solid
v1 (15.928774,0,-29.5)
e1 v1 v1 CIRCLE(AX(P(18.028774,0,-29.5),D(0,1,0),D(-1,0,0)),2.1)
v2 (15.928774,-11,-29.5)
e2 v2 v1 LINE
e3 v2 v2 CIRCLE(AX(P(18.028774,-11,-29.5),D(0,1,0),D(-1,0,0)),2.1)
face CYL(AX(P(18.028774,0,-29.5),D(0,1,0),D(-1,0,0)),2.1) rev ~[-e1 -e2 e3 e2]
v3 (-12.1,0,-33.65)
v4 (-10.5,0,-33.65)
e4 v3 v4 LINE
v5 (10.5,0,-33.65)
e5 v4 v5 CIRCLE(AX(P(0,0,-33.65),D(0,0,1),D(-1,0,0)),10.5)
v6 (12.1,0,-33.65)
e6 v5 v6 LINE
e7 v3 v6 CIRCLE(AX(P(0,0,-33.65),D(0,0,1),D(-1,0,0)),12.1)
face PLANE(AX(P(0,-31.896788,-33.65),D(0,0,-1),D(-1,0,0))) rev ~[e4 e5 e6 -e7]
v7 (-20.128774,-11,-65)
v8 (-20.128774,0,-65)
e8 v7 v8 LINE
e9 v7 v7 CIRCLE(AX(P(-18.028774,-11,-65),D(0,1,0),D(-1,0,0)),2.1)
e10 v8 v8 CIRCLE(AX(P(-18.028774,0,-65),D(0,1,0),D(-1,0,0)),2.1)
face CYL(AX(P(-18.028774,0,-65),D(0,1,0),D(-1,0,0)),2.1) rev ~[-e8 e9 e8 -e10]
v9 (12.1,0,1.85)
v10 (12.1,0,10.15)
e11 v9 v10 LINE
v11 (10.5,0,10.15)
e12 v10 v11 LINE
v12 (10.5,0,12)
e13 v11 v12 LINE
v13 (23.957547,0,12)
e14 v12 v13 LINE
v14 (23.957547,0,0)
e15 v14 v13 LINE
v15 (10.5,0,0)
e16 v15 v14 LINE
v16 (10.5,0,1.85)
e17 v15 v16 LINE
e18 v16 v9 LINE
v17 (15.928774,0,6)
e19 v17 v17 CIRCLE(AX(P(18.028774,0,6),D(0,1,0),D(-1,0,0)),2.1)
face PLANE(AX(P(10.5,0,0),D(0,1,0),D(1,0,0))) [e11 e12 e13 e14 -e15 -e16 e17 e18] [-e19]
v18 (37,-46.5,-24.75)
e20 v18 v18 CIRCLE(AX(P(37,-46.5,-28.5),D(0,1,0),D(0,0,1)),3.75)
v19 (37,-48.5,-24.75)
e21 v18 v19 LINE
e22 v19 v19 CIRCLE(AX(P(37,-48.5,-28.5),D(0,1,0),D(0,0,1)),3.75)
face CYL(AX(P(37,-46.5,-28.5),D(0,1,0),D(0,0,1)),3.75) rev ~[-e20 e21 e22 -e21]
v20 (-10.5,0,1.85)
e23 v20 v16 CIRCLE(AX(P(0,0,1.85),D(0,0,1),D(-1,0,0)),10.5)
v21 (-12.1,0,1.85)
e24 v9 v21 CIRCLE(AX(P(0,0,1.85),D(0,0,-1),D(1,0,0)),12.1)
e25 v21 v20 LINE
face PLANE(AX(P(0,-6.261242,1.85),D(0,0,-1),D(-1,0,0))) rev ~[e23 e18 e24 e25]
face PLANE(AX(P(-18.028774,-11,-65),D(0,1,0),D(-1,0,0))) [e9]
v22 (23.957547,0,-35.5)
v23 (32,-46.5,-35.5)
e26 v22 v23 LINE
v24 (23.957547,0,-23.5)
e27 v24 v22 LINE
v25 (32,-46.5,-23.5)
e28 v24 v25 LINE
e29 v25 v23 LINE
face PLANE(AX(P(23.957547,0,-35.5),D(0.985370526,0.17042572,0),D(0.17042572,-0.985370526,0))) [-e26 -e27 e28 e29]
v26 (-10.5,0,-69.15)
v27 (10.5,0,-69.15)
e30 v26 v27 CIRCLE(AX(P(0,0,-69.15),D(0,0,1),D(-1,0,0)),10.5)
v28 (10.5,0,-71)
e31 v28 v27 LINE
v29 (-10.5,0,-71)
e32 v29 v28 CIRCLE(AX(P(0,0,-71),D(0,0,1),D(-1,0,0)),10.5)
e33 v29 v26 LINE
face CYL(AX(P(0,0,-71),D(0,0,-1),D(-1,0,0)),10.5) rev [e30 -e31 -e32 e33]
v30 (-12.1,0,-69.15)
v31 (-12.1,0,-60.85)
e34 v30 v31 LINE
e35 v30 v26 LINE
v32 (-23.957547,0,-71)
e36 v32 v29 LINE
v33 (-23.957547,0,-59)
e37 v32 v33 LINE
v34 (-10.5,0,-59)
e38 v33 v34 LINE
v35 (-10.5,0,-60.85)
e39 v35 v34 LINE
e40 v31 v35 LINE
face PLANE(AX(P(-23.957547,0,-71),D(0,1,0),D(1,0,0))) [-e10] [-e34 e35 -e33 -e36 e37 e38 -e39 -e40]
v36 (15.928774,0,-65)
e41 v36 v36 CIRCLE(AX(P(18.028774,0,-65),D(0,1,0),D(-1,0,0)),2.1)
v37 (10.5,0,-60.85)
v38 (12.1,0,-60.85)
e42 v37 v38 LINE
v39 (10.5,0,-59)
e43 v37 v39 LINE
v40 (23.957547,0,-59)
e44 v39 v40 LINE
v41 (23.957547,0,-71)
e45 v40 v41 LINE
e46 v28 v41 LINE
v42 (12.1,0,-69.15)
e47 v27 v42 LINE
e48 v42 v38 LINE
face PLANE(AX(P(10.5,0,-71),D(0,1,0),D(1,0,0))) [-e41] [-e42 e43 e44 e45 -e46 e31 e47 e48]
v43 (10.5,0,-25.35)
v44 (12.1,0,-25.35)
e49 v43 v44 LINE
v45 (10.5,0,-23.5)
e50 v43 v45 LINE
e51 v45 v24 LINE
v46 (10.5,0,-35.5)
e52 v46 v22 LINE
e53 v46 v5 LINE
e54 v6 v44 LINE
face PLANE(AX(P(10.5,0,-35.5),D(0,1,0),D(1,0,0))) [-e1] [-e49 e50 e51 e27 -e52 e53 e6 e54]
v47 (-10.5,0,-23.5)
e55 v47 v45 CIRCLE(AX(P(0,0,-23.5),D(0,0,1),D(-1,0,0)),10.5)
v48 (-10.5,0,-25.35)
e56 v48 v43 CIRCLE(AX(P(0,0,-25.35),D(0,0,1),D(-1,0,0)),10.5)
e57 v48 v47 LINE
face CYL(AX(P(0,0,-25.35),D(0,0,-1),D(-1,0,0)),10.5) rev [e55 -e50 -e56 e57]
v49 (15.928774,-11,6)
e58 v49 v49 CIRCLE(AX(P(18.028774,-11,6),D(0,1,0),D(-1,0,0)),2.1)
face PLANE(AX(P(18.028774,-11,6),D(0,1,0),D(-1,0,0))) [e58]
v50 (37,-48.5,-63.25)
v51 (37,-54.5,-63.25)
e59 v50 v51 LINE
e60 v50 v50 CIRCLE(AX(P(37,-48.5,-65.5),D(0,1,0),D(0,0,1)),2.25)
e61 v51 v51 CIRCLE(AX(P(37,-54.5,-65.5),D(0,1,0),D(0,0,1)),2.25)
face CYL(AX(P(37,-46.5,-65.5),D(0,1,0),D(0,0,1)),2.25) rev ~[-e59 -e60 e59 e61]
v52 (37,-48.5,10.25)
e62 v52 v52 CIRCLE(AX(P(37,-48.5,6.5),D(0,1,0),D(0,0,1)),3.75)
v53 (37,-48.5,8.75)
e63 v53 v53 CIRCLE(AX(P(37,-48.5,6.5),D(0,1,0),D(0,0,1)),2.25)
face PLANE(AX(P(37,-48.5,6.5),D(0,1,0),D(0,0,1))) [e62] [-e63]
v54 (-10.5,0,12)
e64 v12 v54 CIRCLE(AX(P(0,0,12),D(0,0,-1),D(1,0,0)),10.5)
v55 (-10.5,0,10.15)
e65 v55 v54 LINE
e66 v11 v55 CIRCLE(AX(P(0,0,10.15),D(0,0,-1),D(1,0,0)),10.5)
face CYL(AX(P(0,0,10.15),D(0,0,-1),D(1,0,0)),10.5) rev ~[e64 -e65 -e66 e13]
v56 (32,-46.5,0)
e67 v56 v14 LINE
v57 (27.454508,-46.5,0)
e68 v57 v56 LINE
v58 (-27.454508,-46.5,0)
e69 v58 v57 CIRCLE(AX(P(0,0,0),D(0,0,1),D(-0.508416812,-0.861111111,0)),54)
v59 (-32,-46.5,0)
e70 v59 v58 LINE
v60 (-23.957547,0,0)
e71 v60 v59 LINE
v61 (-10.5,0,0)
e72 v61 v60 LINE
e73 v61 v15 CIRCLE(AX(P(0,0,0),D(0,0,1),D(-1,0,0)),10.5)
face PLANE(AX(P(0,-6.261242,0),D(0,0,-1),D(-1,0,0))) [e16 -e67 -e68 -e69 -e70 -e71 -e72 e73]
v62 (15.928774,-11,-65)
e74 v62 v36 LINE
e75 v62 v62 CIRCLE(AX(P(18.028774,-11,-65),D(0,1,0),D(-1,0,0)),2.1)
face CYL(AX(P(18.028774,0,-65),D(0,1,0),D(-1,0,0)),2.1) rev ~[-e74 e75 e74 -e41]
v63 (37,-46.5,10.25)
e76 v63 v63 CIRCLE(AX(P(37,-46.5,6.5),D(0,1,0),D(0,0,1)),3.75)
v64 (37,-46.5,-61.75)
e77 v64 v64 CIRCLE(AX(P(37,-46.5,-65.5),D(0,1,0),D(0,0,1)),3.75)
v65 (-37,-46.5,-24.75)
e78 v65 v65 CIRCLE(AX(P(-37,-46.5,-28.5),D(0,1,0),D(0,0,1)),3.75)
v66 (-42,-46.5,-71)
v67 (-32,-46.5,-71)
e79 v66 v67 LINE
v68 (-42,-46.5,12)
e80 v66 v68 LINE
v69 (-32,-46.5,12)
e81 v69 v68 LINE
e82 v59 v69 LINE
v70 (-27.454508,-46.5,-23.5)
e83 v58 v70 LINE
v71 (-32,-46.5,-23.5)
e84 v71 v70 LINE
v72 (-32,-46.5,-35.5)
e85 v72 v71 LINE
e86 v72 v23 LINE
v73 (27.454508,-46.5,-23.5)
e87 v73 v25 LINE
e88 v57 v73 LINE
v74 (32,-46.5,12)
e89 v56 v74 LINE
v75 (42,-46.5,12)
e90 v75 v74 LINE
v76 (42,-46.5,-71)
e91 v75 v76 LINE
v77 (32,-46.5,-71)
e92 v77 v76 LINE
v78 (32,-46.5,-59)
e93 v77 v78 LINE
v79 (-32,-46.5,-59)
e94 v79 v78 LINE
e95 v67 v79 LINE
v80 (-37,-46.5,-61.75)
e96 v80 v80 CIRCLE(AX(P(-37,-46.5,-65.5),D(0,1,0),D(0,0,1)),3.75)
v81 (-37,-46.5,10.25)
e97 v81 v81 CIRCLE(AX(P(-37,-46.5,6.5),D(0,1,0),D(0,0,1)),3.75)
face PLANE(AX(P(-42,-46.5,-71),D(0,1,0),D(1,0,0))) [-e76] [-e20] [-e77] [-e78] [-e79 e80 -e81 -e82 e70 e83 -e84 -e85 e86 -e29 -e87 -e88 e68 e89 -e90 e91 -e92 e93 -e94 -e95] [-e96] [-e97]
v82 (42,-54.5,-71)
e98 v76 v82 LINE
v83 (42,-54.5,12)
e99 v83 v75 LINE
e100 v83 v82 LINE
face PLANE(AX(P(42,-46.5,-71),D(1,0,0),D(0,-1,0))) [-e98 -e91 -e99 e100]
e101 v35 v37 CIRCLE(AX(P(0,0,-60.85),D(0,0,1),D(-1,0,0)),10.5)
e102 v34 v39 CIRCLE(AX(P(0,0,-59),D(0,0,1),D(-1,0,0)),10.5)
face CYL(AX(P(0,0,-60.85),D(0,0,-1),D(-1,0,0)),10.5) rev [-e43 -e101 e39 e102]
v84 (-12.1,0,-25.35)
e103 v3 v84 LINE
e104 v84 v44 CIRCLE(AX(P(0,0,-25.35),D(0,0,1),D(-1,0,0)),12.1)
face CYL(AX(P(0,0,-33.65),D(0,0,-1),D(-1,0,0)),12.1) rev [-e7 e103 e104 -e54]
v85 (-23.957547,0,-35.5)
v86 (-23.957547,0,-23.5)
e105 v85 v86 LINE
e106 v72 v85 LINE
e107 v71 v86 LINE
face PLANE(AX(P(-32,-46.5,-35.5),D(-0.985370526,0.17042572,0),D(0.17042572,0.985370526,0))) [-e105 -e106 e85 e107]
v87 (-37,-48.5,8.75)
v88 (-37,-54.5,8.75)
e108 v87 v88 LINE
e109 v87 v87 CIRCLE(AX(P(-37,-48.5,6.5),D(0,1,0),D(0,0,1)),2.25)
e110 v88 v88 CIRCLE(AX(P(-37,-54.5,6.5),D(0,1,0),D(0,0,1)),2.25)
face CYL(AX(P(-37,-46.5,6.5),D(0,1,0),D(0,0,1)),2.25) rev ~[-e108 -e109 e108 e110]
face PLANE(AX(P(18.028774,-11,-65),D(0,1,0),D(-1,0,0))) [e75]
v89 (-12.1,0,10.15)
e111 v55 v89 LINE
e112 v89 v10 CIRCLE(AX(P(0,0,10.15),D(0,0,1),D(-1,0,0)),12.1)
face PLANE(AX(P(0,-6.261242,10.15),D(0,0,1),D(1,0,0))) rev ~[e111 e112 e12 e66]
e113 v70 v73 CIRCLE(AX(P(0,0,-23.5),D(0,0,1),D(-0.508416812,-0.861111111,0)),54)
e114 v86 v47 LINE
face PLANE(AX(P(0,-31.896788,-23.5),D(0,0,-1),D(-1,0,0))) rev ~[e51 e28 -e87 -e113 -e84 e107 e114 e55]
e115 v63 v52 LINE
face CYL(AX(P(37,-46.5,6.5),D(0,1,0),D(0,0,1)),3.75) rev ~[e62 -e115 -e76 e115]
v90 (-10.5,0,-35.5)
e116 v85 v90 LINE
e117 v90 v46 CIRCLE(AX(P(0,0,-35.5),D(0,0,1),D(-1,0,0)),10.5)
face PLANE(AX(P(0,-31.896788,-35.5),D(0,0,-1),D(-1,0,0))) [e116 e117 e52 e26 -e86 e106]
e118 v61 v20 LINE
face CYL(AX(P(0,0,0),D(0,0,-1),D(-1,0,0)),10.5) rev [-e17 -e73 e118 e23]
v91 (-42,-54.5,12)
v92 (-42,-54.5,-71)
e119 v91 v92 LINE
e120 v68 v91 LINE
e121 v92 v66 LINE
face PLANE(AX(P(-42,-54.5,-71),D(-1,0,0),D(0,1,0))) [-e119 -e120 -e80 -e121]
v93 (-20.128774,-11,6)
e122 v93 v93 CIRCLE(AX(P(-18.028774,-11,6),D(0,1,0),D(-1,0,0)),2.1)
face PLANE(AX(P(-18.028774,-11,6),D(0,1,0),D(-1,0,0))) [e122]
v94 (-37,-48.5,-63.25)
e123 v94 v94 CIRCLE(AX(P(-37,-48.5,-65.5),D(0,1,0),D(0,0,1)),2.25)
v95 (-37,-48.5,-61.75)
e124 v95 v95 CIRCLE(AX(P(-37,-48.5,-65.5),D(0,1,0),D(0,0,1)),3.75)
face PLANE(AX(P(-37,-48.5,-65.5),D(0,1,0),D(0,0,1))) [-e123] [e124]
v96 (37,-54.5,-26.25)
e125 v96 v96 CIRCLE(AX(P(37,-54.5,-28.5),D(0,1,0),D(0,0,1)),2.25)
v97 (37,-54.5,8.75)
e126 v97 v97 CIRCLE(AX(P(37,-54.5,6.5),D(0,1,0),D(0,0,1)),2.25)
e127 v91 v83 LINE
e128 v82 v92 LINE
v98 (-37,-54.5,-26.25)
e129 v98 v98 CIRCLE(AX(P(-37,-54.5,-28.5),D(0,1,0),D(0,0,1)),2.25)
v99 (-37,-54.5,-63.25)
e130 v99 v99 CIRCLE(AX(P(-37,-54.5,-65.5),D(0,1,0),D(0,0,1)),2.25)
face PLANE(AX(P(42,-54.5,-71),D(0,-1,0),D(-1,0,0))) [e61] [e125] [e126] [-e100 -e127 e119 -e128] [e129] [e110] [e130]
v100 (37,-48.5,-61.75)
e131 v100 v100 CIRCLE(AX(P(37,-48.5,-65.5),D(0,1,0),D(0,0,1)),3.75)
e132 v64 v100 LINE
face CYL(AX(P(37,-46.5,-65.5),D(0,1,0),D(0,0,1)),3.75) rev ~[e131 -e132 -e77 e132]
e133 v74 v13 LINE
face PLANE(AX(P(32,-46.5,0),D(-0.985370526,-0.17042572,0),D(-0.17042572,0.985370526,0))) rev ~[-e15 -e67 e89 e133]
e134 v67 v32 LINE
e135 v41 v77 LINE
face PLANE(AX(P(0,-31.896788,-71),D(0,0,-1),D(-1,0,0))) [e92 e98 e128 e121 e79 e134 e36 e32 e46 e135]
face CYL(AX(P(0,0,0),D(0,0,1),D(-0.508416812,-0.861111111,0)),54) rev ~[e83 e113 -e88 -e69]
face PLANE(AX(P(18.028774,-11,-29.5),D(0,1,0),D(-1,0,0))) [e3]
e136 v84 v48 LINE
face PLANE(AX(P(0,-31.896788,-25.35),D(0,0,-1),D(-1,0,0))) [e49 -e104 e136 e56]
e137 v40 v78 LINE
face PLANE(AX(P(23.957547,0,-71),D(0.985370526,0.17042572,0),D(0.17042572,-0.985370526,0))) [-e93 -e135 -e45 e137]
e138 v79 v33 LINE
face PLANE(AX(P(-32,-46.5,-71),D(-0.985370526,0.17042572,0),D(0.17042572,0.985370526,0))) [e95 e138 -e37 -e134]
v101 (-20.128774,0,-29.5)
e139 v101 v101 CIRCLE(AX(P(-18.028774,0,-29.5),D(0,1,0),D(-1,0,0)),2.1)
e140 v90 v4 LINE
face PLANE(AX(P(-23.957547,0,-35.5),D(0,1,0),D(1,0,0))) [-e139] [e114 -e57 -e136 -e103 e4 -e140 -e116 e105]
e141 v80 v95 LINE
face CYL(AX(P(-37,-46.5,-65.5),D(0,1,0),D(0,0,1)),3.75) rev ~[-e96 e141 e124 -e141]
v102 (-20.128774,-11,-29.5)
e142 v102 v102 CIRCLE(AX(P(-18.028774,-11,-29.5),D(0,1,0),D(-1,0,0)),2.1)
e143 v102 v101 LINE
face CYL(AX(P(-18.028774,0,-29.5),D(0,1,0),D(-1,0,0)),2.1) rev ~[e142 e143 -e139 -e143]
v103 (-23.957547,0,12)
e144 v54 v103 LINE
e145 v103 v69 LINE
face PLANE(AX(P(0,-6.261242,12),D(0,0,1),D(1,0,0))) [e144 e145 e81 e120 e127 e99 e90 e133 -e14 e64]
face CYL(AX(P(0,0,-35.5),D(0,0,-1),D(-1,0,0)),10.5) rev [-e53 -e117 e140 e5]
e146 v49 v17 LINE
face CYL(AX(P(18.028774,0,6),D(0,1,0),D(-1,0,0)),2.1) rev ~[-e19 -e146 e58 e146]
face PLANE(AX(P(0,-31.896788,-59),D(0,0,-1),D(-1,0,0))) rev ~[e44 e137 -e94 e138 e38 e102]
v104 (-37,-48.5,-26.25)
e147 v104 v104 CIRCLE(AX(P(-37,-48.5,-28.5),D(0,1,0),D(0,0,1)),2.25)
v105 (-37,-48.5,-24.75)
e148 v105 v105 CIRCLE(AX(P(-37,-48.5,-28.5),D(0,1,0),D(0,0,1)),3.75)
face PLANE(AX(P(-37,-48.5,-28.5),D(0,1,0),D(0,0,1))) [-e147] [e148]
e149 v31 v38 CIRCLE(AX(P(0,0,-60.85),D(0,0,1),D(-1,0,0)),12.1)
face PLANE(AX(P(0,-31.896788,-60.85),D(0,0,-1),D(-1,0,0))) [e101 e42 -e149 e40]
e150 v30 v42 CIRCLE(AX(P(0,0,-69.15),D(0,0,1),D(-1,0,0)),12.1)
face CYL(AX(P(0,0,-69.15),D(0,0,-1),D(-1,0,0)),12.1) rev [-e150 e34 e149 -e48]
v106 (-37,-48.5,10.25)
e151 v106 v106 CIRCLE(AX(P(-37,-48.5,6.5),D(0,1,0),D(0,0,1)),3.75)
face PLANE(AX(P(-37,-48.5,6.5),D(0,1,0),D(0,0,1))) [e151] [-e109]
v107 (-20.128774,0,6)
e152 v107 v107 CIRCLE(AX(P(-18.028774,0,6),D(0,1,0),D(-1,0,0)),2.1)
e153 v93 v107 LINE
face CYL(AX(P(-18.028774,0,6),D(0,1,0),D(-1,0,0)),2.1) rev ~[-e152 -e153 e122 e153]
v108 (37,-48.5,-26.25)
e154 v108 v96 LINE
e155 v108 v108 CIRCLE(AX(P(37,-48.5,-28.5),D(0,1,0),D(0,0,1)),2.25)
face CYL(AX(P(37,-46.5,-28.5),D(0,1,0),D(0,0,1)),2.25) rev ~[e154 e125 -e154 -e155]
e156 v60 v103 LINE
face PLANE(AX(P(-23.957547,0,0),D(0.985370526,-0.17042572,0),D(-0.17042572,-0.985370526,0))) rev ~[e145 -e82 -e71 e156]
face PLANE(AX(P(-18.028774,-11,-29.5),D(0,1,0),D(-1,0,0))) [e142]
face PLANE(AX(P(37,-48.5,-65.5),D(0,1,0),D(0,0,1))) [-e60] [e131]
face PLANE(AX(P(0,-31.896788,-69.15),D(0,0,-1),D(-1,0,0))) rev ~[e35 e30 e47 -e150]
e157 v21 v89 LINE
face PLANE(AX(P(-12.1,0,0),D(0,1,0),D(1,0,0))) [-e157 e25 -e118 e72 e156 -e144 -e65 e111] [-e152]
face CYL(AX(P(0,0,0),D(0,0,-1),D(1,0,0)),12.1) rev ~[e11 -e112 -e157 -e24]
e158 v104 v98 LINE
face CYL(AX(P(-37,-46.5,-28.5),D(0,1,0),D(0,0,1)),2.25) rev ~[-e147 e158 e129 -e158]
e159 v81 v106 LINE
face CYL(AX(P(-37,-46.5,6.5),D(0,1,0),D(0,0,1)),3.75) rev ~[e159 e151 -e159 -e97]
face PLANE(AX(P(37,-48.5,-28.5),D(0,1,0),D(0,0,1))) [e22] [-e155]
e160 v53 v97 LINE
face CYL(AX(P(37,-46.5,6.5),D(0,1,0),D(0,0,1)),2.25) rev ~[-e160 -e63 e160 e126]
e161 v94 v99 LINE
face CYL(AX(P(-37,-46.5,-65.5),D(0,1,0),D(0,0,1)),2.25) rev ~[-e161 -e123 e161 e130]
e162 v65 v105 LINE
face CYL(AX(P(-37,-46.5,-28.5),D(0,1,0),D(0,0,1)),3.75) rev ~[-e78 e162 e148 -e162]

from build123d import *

# Parameters (mm, degrees)
ESTRUSIONE_ESTRUSIONE1_DEPTH  = 12
ESTRUSIONE_ESTRUSIONE2_START  = -1.85
ESTRUSIONE_ESTRUSIONE2_DEPTH  = 1.85
ESTRUSIONE_ESTRUSIONE3_DEPTH  = 1.85
ESTRUSIONE_ESTRUSIONE4_DEPTH  = 23.5
ESTRUSIONE_ESTRUSIONE5_START  = 1.85
ESTRUSIONE_ESTRUSIONE5_DEPTH  = 1.85
ESTRUSIONE_ESTRUSIONE6_START  = 8.3
ESTRUSIONE_ESTRUSIONE6_DEPTH  = 8.3
ESTRUSIONE_ESTRUSIONE7_START  = 1.85
ESTRUSIONE_ESTRUSIONE7_DEPTH  = 1.85
ESTRUSIONE_ESTRUSIONE8_DEPTH  = 23.5
ESTRUSIONE_ESTRUSIONE9_START  = 1.85
ESTRUSIONE_ESTRUSIONE9_DEPTH  = 1.85
ESTRUSIONE_ESTRUSIONE10_START = 8.3
ESTRUSIONE_ESTRUSIONE10_DEPTH = 8.3
ESTRUSIONE_ESTRUSIONE11_START = 1.85
ESTRUSIONE_ESTRUSIONE11_DEPTH = 1.85
SCHIZZO12_R                   = 2.25
TAGLIO_ESTRUSIONE1_DEPTH      = 95.695564838
SCHIZZO13_R                   = 2.1
TAGLIO_ESTRUSIONE2_DEPTH      = 6
SCHIZZO15_R                   = 2.1
TAGLIO_ESTRUSIONE4_DEPTH      = 5
SCHIZZO16_R                   = 3.75
TAGLIO_ESTRUSIONE5_DEPTH      = 2


with BuildPart() as part:
    # Schizzo1 → Estrusione-Estrusione1 (new body)
    with BuildSketch(Plane.XY):
        with BuildLine():
            Line((-12.1, 0), (-21, 0))
            Line((-21, 0), (-21, -17.1))
            Line((-21, -17.1), (21, -17.1))
            Line((21, -17.1), (21, 0))
            Line((21, 0), (12.1, 0))
            ThreePointArc((12.1, 0), (0, -12.1), (-12.1, 0))
        make_face()
        Polygon((-42, -46.5), (-42, -54.5), (42, -54.5), (42, -46.5), (32, -46.5), (23.95754717, 0), (21, 0), (21, -17.1), (-21, -17.1), (-21, 0), (-23.95754717, 0), (-32, -46.5), align=None)
    extrude(amount=ESTRUSIONE_ESTRUSIONE1_DEPTH)

    # Schizzo2 → Estrusione-Estrusione2 (add)
    with BuildSketch(Plane.XY.offset(12).offset(ESTRUSIONE_ESTRUSIONE2_START)):
        with BuildLine():
            Line((12.1, 0), (10.5, 0))
            ThreePointArc((10.5, 0), (0, -10.5), (-10.5, 0))
            Line((-10.5, 0), (-12.1, 0))
            ThreePointArc((-12.1, 0), (0, -12.1), (12.1, 0))
        make_face()
    extrude(amount=ESTRUSIONE_ESTRUSIONE2_DEPTH)

    # Schizzo3 → Estrusione-Estrusione3 (add)
    with BuildSketch(Plane(origin=(0, 0, 0), x_dir=(-1, 0, 0), z_dir=(0, 0, -1))):
        with BuildLine():
            Line((12.1, 0), (10.5, 0))
            ThreePointArc((10.5, 0), (0, -10.5), (-10.5, 0))
            Line((-10.5, 0), (-12.1, 0))
            ThreePointArc((-12.1, 0), (0, -12.1), (12.1, 0))
        make_face()
    extrude(amount=-ESTRUSIONE_ESTRUSIONE3_DEPTH)

    # Schizzo4 → Estrusione-Estrusione4 (add)
    with BuildSketch(Plane(origin=(0, 0, 0), x_dir=(-1, 0, 0), z_dir=(0, 0, -1))):
        with BuildLine():
            Line((-27.454507827, -46.5), (-32, -46.5))
            Line((-32, -46.5), (-42, -46.5))
            Line((-42, -46.5), (-42, -54.5))
            Line((-42, -54.5), (42, -54.5))
            Line((42, -54.5), (42, -46.5))
            Line((42, -46.5), (32, -46.5))
            Line((32, -46.5), (27.454507827, -46.5))
            ThreePointArc((27.454507827, -46.5), (0, -54), (-27.454507827, -46.5))
        make_face()
    extrude(amount=ESTRUSIONE_ESTRUSIONE4_DEPTH)

    # Schizzo5 → Estrusione-Estrusione5 (add)
    with BuildSketch(Plane(origin=(0, 0, -23.5), x_dir=(-1, 0, 0), z_dir=(0, 0, -1)).offset(ESTRUSIONE_ESTRUSIONE5_START)):
        with BuildLine():
            Line((23.95754717, 0), (10.5, 0))
            ThreePointArc((10.5, 0), (0, -10.5), (-10.5, 0))
            Line((-10.5, 0), (-23.95754717, 0))
            Line((-23.95754717, 0), (-32, -46.5))
            Line((-32, -46.5), (-42, -46.5))
            Line((-42, -46.5), (-42, -54.5))
            Line((-42, -54.5), (42, -54.5))
            Line((42, -54.5), (42, -46.5))
            Line((42, -46.5), (32, -46.5))
            Line((32, -46.5), (23.95754717, 0))
        make_face()
    extrude(amount=-ESTRUSIONE_ESTRUSIONE5_DEPTH)

    # Schizzo6 → Estrusione-Estrusione6 (add)
    with BuildSketch(Plane(origin=(0, 0, -25.35), x_dir=(-1, 0, 0), z_dir=(0, 0, -1)).offset(ESTRUSIONE_ESTRUSIONE6_START)):
        with BuildLine():
            ThreePointArc((12.1, 0), (0, -12.1), (-12.1, 0))
            Line((-12.1, 0), (-23.95754717, 0))
            Line((-23.95754717, 0), (-32, -46.5))
            Line((-32, -46.5), (-42, -46.5))
            Line((-42, -46.5), (-42, -54.5))
            Line((-42, -54.5), (42, -54.5))
            Line((42, -54.5), (42, -46.5))
            Line((42, -46.5), (32, -46.5))
            Line((32, -46.5), (23.95754717, 0))
            Line((23.95754717, 0), (12.1, 0))
        make_face()
    extrude(amount=-ESTRUSIONE_ESTRUSIONE6_DEPTH)

    # Schizzo7 → Estrusione-Estrusione7 (add)
    with BuildSketch(Plane(origin=(0, 0, -33.65), x_dir=(-1, 0, 0), z_dir=(0, 0, -1)).offset(ESTRUSIONE_ESTRUSIONE7_START)):
        with BuildLine():
            Line((23.95754717, 0), (10.5, 0))
            ThreePointArc((10.5, 0), (0, -10.5), (-10.5, 0))
            Line((-10.5, 0), (-23.95754717, 0))
            Line((-23.95754717, 0), (-32, -46.5))
            Line((-32, -46.5), (-42, -46.5))
            Line((-42, -46.5), (-42, -54.5))
            Line((-42, -54.5), (42, -54.5))
            Line((42, -54.5), (42, -46.5))
            Line((42, -46.5), (32, -46.5))
            Line((32, -46.5), (23.95754717, 0))
        make_face()
    extrude(amount=-ESTRUSIONE_ESTRUSIONE7_DEPTH)

    # Schizzo8 → Estrusione-Estrusione8 (add)
    with BuildSketch(Plane(origin=(0, 0, -35.5), x_dir=(-1, 0, 0), z_dir=(0, 0, -1))):
        Polygon((-32, -46.5), (32, -46.5), (42, -46.5), (42, -54.5), (-42, -54.5), (-42, -46.5), align=None)
    extrude(amount=ESTRUSIONE_ESTRUSIONE8_DEPTH)

    # Schizzo9 → Estrusione-Estrusione9 (add)
    with BuildSketch(Plane(origin=(0, 0, -59), x_dir=(-1, 0, 0), z_dir=(0, 0, -1)).offset(ESTRUSIONE_ESTRUSIONE9_START)):
        with BuildLine():
            Line((23.95754717, 0), (10.5, 0))
            ThreePointArc((10.5, 0), (0, -10.5), (-10.5, 0))
            Line((-10.5, 0), (-23.95754717, 0))
            Line((-23.95754717, 0), (-32, -46.5))
            Line((-32, -46.5), (-42, -46.5))
            Line((-42, -46.5), (-42, -54.5))
            Line((-42, -54.5), (42, -54.5))
            Line((42, -54.5), (42, -46.5))
            Line((42, -46.5), (32, -46.5))
            Line((32, -46.5), (23.95754717, 0))
        make_face()
    extrude(amount=-ESTRUSIONE_ESTRUSIONE9_DEPTH)

    # Schizzo10 → Estrusione-Estrusione10 (add)
    with BuildSketch(Plane(origin=(0, 0, -60.85), x_dir=(-1, 0, 0), z_dir=(0, 0, -1)).offset(ESTRUSIONE_ESTRUSIONE10_START)):
        with BuildLine():
            ThreePointArc((12.1, 0), (0, -12.1), (-12.1, 0))
            Line((-12.1, 0), (-23.95754717, 0))
            Line((-23.95754717, 0), (-32, -46.5))
            Line((-32, -46.5), (-42, -46.5))
            Line((-42, -46.5), (-42, -54.5))
            Line((-42, -54.5), (42, -54.5))
            Line((42, -54.5), (42, -46.5))
            Line((42, -46.5), (32, -46.5))
            Line((32, -46.5), (23.95754717, 0))
            Line((23.95754717, 0), (12.1, 0))
        make_face()
    extrude(amount=-ESTRUSIONE_ESTRUSIONE10_DEPTH)

    # Schizzo11 → Estrusione-Estrusione11 (add)
    with BuildSketch(Plane(origin=(0, 0, -69.15), x_dir=(-1, 0, 0), z_dir=(0, 0, -1)).offset(ESTRUSIONE_ESTRUSIONE11_START)):
        with BuildLine():
            Line((23.95754717, 0), (10.5, 0))
            ThreePointArc((10.5, 0), (0, -10.5), (-10.5, 0))
            Line((-10.5, 0), (-23.95754717, 0))
            Line((-23.95754717, 0), (-32, -46.5))
            Line((-32, -46.5), (-42, -46.5))
            Line((-42, -46.5), (-42, -54.5))
            Line((-42, -54.5), (42, -54.5))
            Line((42, -54.5), (42, -46.5))
            Line((42, -46.5), (32, -46.5))
            Line((32, -46.5), (23.95754717, 0))
        make_face()
    extrude(amount=-ESTRUSIONE_ESTRUSIONE11_DEPTH)

    # Schizzo12 → Taglio-Estrusione1 (cut, through all)
    with BuildSketch(Plane(origin=(0, -46.5, 0), x_dir=(1, 0, 0), z_dir=(0, 1, 0))):
        with Locations(Location((37, -6.5, 0), (0, 0, 270))):
            Circle(SCHIZZO12_R)
        with Locations(Location((37, 28.5, 0), (0, 0, 270))):
            Circle(SCHIZZO12_R)
        with Locations(Location((37, 65.5, 0), (0, 0, 270))):
            Circle(SCHIZZO12_R)
        with Locations(Location((-37, -6.5, 0), (0, 0, 270))):
            Circle(SCHIZZO12_R)
        with Locations(Location((-37, 28.5, 0), (0, 0, 270))):
            Circle(SCHIZZO12_R)
        with Locations(Location((-37, 65.5, 0), (0, 0, 270))):
            Circle(SCHIZZO12_R)
    extrude(amount=-TAGLIO_ESTRUSIONE1_DEPTH, mode=Mode.SUBTRACT)

    # Schizzo13 → Taglio-Estrusione2 (cut)
    with BuildSketch(Plane(origin=(0, 0, 0), x_dir=(1, 0, 0), z_dir=(0, 1, 0))):
        with Locations(Location((18.028773585, -6, 0), (0, 0, 180))):
            Circle(SCHIZZO13_R)
        with Locations(Location((-18.028773585, -6, 0), (0, 0, 180))):
            Circle(SCHIZZO13_R)
        with Locations(Location((18.028773585, 29.5, 0), (0, 0, 180))):
            Circle(SCHIZZO13_R)
        with Locations(Location((-18.028773585, 29.5, 0), (0, 0, 180))):
            Circle(SCHIZZO13_R)
        with Locations(Location((18.028773585, 65, 0), (0, 0, 180))):
            Circle(SCHIZZO13_R)
        with Locations(Location((-18.028773585, 65, 0), (0, 0, 180))):
            Circle(SCHIZZO13_R)
    extrude(amount=-TAGLIO_ESTRUSIONE2_DEPTH, mode=Mode.SUBTRACT)

    # Schizzo15 → Taglio-Estrusione4 (cut)
    with BuildSketch(Plane(origin=(0, -6, 0), x_dir=(1, 0, 0), z_dir=(0, 1, 0))):
        with Locations(Location((-18.028773585, 65, 0), (0, 0, 180))):
            Circle(SCHIZZO15_R)
        with Locations(Location((18.028773585, 65, 0), (0, 0, 180))):
            Circle(SCHIZZO15_R)
        with Locations(Location((18.028773585, 29.5, 0), (0, 0, 180))):
            Circle(SCHIZZO15_R)
        with Locations(Location((-18.028773585, 29.5, 0), (0, 0, 180))):
            Circle(SCHIZZO15_R)
        with Locations(Location((-18.028773585, -6, 0), (0, 0, 180))):
            Circle(SCHIZZO15_R)
        with Locations(Location((18.028773585, -6, 0), (0, 0, 180))):
            Circle(SCHIZZO15_R)
    extrude(amount=-TAGLIO_ESTRUSIONE4_DEPTH, mode=Mode.SUBTRACT)

    # Schizzo16 → Taglio-Estrusione5 (cut)
    with BuildSketch(Plane(origin=(0, -46.5, 0), x_dir=(1, 0, 0), z_dir=(0, 1, 0))):
        with Locations(Location((37, -6.5, 0), (0, 0, 270))):
            Circle(SCHIZZO16_R)
        with Locations(Location((37, 28.5, 0), (0, 0, 270))):
            Circle(SCHIZZO16_R)
        with Locations(Location((37, 65.5, 0), (0, 0, 270))):
            Circle(SCHIZZO16_R)
        with Locations(Location((-37, 65.5, 0), (0, 0, 270))):
            Circle(SCHIZZO16_R)
        with Locations(Location((-37, 28.5, 0), (0, 0, 270))):
            Circle(SCHIZZO16_R)
        with Locations(Location((-37, -6.5, 0), (0, 0, 270))):
            Circle(SCHIZZO16_R)
    extrude(amount=-TAGLIO_ESTRUSIONE5_DEPTH, mode=Mode.SUBTRACT)


solid = part.part
